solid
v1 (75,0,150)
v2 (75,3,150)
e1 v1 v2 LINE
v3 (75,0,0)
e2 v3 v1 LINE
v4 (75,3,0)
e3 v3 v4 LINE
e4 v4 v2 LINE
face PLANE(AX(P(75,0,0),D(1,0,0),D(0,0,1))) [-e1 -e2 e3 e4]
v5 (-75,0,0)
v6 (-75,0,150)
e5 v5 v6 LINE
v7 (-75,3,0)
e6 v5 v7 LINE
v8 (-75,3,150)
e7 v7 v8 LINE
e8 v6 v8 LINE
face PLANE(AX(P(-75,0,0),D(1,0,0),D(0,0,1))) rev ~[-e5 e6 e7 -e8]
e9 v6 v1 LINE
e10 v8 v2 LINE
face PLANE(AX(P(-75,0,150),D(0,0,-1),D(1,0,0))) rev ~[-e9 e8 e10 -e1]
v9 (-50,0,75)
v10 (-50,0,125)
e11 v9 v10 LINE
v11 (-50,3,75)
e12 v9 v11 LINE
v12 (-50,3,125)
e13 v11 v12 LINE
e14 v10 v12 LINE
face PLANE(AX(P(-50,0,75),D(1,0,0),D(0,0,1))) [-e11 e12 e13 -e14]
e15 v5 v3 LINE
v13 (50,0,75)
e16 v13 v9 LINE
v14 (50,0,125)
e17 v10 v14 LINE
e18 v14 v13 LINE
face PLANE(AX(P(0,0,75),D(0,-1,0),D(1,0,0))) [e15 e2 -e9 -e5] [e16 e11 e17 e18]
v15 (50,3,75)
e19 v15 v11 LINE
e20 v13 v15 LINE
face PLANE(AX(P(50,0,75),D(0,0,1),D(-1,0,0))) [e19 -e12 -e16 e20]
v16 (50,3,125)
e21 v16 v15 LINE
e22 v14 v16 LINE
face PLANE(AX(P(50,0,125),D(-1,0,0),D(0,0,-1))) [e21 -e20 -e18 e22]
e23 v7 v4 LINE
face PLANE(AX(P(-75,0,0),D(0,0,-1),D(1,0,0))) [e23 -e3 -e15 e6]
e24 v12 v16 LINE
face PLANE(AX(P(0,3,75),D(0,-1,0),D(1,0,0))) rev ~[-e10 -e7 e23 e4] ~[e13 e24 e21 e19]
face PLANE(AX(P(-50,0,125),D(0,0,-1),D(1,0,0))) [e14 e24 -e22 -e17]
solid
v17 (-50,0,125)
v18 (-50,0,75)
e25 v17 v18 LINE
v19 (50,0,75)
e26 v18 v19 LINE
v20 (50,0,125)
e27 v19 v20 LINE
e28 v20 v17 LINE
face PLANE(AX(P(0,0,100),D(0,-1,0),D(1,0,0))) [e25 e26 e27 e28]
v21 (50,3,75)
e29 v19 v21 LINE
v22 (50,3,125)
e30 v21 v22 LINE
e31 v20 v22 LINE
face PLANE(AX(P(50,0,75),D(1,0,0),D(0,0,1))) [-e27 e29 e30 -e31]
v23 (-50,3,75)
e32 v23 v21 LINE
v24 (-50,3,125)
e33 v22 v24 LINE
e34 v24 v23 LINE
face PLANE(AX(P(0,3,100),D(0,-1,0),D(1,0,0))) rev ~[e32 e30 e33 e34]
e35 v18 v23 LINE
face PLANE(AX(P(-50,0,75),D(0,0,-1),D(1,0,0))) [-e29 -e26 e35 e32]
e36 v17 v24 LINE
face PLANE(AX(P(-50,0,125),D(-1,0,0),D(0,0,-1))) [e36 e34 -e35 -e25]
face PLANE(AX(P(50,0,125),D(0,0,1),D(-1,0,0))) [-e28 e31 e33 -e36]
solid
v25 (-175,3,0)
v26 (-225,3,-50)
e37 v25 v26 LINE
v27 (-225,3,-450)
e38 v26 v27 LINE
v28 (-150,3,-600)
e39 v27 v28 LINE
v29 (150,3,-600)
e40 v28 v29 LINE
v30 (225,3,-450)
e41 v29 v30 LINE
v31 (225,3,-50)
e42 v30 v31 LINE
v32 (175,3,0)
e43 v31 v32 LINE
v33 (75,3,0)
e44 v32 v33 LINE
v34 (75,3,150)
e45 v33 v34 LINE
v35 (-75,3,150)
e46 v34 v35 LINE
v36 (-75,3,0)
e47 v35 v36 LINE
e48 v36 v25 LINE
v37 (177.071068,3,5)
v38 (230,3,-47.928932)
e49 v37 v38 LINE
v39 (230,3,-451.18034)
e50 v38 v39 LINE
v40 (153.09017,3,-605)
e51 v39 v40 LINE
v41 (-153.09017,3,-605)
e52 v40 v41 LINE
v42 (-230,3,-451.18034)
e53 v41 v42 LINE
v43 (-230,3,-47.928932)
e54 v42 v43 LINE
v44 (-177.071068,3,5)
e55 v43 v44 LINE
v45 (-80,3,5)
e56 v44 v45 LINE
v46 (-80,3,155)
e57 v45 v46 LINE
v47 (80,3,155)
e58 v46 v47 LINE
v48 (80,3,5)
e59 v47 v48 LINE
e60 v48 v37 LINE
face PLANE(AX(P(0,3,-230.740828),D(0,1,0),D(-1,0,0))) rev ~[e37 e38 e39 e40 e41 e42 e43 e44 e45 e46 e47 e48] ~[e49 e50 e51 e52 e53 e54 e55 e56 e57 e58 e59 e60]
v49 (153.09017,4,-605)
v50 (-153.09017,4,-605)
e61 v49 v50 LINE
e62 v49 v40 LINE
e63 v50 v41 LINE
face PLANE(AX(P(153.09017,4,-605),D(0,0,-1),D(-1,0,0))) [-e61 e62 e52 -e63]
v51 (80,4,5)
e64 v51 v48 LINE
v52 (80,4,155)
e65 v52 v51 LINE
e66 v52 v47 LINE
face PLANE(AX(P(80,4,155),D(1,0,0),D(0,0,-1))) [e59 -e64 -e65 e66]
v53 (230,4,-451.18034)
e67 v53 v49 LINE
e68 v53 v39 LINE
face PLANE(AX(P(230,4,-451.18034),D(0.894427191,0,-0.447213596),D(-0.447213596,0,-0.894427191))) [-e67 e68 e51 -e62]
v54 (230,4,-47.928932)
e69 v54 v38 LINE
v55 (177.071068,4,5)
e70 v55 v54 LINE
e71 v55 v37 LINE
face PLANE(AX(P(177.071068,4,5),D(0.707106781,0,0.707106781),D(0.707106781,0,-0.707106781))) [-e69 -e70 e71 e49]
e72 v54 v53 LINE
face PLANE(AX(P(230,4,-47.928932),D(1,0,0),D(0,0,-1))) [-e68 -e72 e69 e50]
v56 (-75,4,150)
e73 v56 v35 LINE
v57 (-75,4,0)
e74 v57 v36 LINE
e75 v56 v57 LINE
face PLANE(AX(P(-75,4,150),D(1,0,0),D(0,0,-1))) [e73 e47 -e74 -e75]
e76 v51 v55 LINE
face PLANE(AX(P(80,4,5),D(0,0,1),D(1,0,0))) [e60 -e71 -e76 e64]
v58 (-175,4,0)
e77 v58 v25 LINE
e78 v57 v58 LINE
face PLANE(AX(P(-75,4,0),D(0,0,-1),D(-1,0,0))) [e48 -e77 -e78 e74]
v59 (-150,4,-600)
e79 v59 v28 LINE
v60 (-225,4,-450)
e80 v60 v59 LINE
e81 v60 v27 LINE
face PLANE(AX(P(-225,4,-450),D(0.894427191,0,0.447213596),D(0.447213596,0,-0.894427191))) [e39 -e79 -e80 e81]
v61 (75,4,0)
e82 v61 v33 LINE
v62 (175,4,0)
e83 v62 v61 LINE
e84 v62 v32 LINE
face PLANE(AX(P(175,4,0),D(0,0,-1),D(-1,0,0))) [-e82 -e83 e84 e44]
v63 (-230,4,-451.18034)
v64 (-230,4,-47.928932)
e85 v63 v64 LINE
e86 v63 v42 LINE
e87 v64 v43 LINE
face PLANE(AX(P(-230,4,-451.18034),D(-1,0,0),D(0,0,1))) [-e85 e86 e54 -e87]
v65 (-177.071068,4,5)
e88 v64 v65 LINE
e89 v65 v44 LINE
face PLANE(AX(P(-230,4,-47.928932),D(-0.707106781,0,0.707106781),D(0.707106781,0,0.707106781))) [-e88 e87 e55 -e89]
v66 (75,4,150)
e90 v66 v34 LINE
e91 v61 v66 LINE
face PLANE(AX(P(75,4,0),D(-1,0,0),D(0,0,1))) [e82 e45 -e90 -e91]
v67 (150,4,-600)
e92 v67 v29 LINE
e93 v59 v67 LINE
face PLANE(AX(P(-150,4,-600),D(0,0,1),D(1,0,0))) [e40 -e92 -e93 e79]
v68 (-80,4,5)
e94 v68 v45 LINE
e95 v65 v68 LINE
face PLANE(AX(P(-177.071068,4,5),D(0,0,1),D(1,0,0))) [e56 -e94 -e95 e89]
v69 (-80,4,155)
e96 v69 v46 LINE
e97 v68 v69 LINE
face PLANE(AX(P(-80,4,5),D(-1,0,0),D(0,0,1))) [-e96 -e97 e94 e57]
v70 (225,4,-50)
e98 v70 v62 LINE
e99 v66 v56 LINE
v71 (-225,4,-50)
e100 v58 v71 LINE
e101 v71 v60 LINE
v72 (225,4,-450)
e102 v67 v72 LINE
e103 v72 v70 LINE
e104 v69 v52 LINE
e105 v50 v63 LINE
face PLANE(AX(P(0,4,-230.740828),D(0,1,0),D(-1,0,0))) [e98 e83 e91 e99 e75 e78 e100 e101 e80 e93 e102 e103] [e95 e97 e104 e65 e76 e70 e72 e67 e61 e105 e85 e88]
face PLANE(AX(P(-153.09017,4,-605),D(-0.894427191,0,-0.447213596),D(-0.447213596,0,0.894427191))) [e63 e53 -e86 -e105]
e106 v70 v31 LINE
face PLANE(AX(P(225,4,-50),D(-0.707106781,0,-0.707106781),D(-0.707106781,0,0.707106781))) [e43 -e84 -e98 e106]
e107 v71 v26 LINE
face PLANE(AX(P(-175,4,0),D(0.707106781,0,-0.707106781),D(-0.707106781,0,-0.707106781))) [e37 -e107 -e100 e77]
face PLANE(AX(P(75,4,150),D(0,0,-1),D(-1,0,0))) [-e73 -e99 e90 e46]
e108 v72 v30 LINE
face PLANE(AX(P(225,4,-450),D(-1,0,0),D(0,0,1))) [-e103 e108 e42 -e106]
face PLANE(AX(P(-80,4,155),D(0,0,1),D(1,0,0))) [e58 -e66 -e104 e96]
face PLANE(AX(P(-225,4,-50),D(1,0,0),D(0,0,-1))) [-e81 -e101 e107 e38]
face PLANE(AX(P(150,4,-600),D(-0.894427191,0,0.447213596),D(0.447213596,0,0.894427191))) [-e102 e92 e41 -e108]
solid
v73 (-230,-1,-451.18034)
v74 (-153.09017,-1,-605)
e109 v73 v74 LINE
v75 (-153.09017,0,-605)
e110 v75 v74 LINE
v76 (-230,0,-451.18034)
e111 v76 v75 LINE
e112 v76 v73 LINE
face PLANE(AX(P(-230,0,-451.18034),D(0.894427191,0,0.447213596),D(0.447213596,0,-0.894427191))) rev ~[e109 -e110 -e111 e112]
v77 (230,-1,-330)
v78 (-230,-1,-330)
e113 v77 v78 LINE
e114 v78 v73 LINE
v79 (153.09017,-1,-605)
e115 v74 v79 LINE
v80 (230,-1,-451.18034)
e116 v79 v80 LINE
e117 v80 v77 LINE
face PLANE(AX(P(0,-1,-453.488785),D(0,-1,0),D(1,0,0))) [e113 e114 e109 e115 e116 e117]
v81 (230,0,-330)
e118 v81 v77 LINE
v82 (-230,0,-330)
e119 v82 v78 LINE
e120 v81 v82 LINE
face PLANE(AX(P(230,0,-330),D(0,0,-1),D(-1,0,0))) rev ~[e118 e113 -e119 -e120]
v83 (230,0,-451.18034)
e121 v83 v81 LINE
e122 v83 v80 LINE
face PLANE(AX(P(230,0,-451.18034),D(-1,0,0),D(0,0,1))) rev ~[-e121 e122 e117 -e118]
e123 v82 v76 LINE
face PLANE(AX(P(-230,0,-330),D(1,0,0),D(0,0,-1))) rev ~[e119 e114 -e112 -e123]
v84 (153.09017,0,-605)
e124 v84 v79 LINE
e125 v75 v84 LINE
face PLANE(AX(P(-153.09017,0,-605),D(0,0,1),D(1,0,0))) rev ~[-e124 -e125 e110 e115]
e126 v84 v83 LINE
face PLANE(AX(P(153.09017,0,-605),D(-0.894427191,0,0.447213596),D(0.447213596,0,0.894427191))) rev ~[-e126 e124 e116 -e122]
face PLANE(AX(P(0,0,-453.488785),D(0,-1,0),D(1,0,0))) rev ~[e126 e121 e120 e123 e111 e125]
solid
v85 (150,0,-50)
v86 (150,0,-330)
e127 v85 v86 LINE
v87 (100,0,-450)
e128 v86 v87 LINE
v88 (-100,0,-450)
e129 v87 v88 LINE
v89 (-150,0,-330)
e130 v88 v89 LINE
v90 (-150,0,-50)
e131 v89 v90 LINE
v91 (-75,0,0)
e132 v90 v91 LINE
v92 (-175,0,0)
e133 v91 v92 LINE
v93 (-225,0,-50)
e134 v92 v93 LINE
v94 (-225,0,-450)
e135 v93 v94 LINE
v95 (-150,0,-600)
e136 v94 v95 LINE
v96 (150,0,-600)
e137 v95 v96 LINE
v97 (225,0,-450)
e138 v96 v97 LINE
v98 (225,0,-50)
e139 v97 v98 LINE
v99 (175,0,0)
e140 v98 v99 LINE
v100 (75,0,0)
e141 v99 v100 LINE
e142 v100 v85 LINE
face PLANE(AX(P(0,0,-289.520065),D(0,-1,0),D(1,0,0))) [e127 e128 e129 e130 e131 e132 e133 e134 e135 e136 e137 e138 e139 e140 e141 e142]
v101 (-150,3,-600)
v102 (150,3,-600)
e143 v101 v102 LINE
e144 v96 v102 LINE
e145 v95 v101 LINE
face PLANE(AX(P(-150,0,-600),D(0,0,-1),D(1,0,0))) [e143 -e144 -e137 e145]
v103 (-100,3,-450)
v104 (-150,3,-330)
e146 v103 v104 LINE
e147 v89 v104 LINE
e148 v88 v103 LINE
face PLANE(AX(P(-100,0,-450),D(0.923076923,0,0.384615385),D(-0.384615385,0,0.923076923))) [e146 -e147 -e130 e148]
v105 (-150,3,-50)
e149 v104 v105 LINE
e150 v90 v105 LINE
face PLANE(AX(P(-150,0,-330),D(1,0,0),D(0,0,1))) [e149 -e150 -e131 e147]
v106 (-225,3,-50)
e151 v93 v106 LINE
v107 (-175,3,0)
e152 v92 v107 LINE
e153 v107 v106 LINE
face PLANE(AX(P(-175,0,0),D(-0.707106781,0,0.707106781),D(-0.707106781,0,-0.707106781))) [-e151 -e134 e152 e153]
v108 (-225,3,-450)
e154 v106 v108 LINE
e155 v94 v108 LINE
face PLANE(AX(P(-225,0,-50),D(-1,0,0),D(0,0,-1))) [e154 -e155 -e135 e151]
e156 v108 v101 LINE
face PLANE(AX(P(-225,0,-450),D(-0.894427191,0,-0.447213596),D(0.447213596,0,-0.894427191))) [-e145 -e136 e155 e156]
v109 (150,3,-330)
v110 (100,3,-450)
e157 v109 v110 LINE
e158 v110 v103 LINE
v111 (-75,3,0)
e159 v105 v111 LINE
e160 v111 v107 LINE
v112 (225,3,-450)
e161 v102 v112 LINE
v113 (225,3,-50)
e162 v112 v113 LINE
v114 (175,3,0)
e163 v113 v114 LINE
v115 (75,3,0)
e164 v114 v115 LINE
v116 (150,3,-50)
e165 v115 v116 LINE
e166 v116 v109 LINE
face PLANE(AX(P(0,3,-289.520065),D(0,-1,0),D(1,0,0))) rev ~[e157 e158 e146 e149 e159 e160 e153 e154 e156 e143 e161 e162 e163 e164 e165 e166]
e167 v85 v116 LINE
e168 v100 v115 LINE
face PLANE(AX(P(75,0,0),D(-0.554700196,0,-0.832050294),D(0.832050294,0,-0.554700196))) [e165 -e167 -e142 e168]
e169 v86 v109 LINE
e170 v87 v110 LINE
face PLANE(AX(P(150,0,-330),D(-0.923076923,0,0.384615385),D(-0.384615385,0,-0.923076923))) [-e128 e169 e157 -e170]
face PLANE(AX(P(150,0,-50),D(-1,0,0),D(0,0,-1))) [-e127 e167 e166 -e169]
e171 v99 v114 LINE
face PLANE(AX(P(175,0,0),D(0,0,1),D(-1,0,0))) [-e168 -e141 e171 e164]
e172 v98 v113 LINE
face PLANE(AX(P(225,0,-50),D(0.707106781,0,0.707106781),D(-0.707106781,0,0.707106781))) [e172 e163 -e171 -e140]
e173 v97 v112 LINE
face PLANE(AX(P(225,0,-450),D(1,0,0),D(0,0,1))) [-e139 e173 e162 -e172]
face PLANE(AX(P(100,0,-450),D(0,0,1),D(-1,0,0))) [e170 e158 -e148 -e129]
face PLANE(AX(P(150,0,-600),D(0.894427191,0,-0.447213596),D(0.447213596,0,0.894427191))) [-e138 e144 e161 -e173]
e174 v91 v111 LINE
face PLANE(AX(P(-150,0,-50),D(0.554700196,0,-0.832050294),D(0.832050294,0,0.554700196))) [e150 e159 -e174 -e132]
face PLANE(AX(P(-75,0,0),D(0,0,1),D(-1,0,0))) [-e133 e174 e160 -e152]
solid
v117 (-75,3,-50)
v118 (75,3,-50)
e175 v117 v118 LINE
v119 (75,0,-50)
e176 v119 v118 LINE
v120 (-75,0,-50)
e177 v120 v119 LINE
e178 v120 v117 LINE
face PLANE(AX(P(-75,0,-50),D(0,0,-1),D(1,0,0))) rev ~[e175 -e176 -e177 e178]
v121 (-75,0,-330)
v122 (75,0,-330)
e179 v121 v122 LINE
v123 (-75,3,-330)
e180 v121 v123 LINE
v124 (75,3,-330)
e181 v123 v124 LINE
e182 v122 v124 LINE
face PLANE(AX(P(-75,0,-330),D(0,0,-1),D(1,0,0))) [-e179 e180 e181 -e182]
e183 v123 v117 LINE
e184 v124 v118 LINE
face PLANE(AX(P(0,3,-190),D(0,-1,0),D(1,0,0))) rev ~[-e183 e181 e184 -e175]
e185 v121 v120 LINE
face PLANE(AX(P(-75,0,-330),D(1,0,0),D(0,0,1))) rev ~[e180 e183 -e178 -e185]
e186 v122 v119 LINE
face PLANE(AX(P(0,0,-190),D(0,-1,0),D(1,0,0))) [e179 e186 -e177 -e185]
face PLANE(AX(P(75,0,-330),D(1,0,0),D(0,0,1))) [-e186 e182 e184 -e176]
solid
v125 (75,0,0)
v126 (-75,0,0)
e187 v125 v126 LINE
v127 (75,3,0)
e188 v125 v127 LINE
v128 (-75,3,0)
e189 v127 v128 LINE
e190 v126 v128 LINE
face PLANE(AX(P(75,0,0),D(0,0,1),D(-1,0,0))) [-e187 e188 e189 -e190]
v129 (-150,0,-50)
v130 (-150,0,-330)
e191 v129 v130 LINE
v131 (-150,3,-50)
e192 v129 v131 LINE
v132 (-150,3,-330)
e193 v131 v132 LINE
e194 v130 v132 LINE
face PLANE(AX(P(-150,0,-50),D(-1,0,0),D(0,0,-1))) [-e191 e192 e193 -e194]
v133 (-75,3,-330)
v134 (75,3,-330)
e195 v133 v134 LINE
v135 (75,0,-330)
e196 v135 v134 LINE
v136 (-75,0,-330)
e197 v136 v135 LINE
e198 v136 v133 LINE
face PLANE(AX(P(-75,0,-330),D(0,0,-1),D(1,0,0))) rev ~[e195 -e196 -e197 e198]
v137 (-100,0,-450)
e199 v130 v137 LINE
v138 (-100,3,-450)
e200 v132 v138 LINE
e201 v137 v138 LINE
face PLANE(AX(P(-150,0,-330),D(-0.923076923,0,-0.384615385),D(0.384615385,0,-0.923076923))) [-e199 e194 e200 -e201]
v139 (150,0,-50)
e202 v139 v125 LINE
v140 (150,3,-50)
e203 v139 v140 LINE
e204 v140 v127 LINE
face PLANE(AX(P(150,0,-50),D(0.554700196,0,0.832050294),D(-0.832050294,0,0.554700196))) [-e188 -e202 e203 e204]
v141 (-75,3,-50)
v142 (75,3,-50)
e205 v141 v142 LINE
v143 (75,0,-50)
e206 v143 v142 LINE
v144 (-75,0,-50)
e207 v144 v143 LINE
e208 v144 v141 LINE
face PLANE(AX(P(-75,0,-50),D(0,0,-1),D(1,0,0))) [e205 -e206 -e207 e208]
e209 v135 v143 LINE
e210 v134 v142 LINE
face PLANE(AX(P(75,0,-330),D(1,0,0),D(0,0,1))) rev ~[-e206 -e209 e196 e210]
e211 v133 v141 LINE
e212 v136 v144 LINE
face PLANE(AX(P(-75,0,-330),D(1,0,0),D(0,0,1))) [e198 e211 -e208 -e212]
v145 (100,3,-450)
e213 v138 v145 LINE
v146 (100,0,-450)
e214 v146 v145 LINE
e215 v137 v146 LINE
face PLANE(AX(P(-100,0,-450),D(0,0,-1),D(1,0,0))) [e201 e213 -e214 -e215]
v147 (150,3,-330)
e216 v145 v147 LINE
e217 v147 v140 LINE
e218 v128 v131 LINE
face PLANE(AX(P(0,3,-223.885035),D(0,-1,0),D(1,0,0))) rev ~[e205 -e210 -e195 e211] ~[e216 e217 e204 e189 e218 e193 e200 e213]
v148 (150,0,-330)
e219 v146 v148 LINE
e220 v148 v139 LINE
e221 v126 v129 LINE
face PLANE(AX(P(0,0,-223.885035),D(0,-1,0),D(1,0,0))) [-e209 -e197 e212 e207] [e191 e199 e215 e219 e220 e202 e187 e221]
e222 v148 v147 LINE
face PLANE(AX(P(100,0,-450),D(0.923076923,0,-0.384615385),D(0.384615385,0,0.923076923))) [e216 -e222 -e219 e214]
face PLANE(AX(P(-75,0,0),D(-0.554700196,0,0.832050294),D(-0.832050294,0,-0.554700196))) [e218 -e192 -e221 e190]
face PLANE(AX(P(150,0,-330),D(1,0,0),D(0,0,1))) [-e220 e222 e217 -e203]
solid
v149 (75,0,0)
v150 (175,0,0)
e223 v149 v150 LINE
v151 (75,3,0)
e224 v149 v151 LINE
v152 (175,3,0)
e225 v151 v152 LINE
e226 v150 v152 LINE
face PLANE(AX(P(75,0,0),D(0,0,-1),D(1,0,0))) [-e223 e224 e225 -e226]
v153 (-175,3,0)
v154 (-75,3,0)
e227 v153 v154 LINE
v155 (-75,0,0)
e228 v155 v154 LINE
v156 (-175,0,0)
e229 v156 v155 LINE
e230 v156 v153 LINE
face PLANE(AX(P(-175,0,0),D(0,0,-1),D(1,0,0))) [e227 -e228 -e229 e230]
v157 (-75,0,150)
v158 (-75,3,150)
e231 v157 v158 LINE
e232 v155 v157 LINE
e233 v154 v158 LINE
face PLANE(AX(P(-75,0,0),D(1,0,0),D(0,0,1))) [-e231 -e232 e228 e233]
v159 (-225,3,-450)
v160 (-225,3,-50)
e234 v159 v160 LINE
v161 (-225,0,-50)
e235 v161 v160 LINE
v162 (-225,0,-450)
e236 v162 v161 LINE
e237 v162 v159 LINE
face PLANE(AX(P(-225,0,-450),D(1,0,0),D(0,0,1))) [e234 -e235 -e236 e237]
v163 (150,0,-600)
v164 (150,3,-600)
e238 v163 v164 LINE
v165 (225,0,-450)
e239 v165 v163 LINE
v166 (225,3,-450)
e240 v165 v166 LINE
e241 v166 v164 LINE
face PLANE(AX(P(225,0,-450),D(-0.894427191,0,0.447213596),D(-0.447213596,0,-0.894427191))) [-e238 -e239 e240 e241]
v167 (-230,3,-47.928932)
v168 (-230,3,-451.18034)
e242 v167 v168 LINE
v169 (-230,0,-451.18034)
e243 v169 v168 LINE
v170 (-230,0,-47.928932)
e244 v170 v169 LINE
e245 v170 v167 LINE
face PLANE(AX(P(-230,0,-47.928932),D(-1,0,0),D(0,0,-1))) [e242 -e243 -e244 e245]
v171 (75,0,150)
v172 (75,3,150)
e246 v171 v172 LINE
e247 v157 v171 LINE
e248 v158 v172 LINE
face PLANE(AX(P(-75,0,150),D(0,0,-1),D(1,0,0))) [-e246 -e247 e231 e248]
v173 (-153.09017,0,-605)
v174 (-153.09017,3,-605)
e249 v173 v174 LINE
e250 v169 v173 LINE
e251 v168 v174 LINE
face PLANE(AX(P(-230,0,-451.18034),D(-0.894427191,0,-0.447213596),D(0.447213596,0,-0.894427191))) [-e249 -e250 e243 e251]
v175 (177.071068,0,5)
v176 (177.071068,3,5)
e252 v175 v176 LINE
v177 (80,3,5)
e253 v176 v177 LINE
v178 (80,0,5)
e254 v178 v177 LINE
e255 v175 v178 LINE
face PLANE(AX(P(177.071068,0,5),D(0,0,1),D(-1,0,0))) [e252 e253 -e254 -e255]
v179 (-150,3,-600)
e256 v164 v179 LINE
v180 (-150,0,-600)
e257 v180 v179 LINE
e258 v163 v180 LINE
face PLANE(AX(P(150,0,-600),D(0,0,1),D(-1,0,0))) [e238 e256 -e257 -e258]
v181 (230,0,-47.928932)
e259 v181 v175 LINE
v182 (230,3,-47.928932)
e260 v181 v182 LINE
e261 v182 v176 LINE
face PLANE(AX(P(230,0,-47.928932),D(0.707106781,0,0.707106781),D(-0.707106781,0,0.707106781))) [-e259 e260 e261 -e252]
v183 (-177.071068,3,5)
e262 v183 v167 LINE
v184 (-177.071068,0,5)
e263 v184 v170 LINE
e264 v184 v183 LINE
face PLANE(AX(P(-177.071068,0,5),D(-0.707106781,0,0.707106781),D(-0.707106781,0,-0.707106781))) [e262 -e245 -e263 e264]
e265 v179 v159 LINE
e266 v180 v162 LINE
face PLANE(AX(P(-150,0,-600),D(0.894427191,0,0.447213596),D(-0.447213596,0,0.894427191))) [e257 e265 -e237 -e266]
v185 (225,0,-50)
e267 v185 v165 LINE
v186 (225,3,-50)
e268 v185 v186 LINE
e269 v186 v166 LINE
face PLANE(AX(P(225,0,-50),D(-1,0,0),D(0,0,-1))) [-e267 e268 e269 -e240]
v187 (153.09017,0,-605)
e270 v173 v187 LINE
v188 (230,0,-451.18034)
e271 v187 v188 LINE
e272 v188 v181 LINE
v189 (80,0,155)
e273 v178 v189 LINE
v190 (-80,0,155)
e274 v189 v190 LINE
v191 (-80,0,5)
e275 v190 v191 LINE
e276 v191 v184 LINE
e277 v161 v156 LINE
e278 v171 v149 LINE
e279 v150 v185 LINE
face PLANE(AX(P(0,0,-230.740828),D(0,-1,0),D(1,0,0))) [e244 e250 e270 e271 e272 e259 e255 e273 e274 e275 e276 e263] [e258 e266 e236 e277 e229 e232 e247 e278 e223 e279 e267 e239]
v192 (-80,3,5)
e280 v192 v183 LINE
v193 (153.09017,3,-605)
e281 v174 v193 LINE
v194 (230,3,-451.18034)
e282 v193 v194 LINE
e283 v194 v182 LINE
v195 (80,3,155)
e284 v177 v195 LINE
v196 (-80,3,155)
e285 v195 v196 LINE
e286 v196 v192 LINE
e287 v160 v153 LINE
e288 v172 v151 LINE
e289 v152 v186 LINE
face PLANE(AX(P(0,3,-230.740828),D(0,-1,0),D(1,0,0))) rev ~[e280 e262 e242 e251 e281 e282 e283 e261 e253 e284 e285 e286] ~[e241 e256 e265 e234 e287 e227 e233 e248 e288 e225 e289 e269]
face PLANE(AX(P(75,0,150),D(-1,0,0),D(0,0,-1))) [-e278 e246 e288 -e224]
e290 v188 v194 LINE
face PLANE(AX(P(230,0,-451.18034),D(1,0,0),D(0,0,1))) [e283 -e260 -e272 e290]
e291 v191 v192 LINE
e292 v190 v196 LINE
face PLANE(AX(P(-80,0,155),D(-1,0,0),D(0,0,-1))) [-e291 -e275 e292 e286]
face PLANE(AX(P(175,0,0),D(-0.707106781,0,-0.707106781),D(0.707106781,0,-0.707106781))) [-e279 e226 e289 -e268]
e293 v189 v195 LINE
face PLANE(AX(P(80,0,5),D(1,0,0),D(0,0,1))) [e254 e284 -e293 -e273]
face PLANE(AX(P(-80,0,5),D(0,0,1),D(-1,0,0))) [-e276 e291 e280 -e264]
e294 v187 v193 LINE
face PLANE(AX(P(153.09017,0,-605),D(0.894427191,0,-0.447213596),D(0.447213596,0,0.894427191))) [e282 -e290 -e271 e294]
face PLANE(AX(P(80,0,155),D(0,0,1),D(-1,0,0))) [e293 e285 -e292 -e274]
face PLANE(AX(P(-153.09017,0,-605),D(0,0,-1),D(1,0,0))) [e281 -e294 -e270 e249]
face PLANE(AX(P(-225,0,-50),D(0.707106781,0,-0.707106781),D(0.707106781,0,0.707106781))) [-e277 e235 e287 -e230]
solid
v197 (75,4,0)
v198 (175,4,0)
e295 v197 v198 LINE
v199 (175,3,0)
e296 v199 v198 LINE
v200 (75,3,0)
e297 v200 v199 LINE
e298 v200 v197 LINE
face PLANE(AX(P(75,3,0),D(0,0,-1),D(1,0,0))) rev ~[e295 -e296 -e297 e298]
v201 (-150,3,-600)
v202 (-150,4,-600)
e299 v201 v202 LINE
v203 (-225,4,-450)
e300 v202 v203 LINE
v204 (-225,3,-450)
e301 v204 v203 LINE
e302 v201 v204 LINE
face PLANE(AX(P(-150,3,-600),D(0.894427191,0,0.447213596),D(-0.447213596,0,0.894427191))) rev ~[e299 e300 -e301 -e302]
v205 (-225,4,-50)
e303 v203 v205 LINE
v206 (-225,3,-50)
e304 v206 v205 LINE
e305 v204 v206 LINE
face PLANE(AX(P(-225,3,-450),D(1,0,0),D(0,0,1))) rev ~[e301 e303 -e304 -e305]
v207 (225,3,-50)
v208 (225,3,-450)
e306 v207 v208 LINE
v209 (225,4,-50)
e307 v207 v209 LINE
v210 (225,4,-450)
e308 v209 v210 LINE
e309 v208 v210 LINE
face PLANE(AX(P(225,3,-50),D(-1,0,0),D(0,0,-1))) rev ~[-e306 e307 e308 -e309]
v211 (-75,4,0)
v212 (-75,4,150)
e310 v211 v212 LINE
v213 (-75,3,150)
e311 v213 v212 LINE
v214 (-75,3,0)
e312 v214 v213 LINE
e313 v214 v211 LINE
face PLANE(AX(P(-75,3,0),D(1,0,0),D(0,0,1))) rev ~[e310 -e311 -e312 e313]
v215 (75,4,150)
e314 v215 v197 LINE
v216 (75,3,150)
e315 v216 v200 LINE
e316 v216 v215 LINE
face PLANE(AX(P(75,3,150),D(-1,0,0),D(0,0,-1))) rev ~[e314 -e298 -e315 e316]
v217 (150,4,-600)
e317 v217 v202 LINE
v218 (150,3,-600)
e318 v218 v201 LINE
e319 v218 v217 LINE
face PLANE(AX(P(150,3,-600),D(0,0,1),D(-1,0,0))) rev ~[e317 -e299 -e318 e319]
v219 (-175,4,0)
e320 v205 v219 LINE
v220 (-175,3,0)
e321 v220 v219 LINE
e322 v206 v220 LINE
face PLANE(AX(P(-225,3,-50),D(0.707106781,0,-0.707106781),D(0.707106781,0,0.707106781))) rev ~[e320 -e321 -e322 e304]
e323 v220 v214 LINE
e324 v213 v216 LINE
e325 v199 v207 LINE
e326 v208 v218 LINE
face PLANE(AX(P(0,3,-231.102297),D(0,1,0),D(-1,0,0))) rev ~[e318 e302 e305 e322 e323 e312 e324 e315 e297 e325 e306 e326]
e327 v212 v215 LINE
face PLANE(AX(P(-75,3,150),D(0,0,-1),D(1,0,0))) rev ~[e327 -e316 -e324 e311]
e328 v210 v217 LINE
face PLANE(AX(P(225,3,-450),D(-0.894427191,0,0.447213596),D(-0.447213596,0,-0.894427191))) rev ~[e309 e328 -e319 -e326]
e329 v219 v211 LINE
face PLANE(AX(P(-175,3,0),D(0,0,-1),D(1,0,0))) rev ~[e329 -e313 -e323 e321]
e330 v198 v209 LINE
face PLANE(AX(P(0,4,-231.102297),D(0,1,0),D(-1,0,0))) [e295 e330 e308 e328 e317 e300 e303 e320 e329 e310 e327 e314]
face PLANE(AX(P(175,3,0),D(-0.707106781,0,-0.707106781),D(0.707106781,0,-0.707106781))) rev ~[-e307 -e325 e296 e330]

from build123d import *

# Parameters (mm, degrees)
F1_DEPTH  = 3
F2_W      = 150
F2_H      = 150
F3_DEPTH  = 3
F4_W      = 150
F4_H      = 280
F5_DEPTH  = 3
F6_W      = 150
F6_H      = 280
F7_DEPTH  = 3
F9_DEPTH  = 3
F11_DEPTH = 3
F13_DEPTH = 1
F15_DEPTH = 1
F17_DEPTH = 1


with BuildPart() as f1:
    # F0 (on Front) → F1 (new body)
    with BuildSketch(Plane.XZ):
        Polygon((50, 125), (0, 125), (-50, 125), (-50, 100), (-50, 75), (0, 75), (50, 75), (50, 100), align=None)
    extrude(amount=-F1_DEPTH)


with BuildPart() as f3:
    # F2 (on Front) → F3 (new body)
    with BuildSketch(Plane.XZ):
        with Locations((0, 75)):
            Rectangle(F2_W, F2_H)
        Polygon((-50, 125), (0, 125), (50, 125), (50, 100), (50, 75), (0, 75), (-50, 75), (-50, 100), align=None, mode=Mode.SUBTRACT)
    extrude(amount=-F3_DEPTH)


with BuildPart() as f5:
    # F4 (on Front) → F5 (new body)
    with BuildSketch(Plane.XZ):
        with Locations((0, -190)):
            Rectangle(F4_W, F4_H)
    extrude(amount=-F5_DEPTH)


with BuildPart() as f7:
    # F6 (on Front) → F7 (new body)
    with BuildSketch(Plane.XZ):
        Polygon((75, 0), (-75, 0), (-150, -50), (-150, -330), (-100, -450), (100, -450), (150, -330), (150, -50), align=None)
        with Locations((0, -190)):
            Rectangle(F6_W, F6_H, mode=Mode.SUBTRACT)
    extrude(amount=-F7_DEPTH)


with BuildPart() as f9:
    # F8 (on face) → F9 (new body)
    with BuildSketch(Plane.XZ):
        Polygon((175, 0), (75, 0), (150, -50), (150, -330), (100, -450), (-100, -450), (-150, -330), (-150, -50), (-75, 0), (-175, 0), (-225, -50), (-225, -450), (-150, -600), (150, -600), (225, -450), (225, -50), align=None)
    extrude(amount=-F9_DEPTH)


with BuildPart() as f11:
    # F10 (on face) → F11 (new body)
    with BuildSketch(Plane.XZ):
        Polygon((230, -47.928932), (177.071068, 5), (80, 5), (80, 155), (-80, 155), (-80, 5), (-177.071068, 5), (-230, -47.928932), (-230, -451.18034), (-153.09017, -605), (153.09017, -605), (230, -451.18034), align=None)
        Polygon((-75, 150), (75, 150), (75, 0), (175, 0), (225, -50), (225, -450), (150, -600), (-150, -600), (-225, -450), (-225, -50), (-175, 0), (-75, 0), align=None, mode=Mode.SUBTRACT)
    extrude(amount=-F11_DEPTH)


with BuildPart() as f13:
    # F12 (on face) → F13 (new body)
    with BuildSketch(Plane(origin=(0, 3, 0), x_dir=(-1, 0, 0), z_dir=(0, 1, 0))):
        Polygon((75, 0), (75, 150), (-75, 150), (-75, 0), (-175, 0), (-225, -50), (-225, -450), (-150, -600), (150, -600), (225, -450), (225, -50), (175, 0), align=None)
    extrude(amount=F13_DEPTH)


with BuildPart() as f15:
    # F14 (on face) → F15 (new body)
    with BuildSketch(Plane(origin=(0, 4, 0), x_dir=(-1, 0, 0), z_dir=(0, 1, 0))):
        Polygon((80, 155), (-80, 155), (-80, 5), (-177.071068, 5), (-230, -47.928932), (-230, -451.18034), (-153.09017, -605), (153.09017, -605), (230, -451.18034), (230, -47.928932), (177.071068, 5), (80, 5), align=None)
        Polygon((-75, 0), (-75, 150), (75, 150), (75, 0), (175, 0), (225, -50), (225, -450), (150, -600), (-150, -600), (-225, -450), (-225, -50), (-175, 0), align=None, mode=Mode.SUBTRACT)
    extrude(amount=-F15_DEPTH)


with BuildPart() as f17:
    # F16 (on face) → F17 (new body)
    with BuildSketch(Plane.XZ):
        Polygon((-230, -451.18034), (-153.09017, -605), (153.09017, -605), (230, -451.18034), (230, -330), (-230, -330), align=None)
    extrude(amount=F17_DEPTH)


solid = Compound([f1.part, f3.part, f5.part, f7.part, f9.part, f11.part, f13.part, f15.part, f17.part])
